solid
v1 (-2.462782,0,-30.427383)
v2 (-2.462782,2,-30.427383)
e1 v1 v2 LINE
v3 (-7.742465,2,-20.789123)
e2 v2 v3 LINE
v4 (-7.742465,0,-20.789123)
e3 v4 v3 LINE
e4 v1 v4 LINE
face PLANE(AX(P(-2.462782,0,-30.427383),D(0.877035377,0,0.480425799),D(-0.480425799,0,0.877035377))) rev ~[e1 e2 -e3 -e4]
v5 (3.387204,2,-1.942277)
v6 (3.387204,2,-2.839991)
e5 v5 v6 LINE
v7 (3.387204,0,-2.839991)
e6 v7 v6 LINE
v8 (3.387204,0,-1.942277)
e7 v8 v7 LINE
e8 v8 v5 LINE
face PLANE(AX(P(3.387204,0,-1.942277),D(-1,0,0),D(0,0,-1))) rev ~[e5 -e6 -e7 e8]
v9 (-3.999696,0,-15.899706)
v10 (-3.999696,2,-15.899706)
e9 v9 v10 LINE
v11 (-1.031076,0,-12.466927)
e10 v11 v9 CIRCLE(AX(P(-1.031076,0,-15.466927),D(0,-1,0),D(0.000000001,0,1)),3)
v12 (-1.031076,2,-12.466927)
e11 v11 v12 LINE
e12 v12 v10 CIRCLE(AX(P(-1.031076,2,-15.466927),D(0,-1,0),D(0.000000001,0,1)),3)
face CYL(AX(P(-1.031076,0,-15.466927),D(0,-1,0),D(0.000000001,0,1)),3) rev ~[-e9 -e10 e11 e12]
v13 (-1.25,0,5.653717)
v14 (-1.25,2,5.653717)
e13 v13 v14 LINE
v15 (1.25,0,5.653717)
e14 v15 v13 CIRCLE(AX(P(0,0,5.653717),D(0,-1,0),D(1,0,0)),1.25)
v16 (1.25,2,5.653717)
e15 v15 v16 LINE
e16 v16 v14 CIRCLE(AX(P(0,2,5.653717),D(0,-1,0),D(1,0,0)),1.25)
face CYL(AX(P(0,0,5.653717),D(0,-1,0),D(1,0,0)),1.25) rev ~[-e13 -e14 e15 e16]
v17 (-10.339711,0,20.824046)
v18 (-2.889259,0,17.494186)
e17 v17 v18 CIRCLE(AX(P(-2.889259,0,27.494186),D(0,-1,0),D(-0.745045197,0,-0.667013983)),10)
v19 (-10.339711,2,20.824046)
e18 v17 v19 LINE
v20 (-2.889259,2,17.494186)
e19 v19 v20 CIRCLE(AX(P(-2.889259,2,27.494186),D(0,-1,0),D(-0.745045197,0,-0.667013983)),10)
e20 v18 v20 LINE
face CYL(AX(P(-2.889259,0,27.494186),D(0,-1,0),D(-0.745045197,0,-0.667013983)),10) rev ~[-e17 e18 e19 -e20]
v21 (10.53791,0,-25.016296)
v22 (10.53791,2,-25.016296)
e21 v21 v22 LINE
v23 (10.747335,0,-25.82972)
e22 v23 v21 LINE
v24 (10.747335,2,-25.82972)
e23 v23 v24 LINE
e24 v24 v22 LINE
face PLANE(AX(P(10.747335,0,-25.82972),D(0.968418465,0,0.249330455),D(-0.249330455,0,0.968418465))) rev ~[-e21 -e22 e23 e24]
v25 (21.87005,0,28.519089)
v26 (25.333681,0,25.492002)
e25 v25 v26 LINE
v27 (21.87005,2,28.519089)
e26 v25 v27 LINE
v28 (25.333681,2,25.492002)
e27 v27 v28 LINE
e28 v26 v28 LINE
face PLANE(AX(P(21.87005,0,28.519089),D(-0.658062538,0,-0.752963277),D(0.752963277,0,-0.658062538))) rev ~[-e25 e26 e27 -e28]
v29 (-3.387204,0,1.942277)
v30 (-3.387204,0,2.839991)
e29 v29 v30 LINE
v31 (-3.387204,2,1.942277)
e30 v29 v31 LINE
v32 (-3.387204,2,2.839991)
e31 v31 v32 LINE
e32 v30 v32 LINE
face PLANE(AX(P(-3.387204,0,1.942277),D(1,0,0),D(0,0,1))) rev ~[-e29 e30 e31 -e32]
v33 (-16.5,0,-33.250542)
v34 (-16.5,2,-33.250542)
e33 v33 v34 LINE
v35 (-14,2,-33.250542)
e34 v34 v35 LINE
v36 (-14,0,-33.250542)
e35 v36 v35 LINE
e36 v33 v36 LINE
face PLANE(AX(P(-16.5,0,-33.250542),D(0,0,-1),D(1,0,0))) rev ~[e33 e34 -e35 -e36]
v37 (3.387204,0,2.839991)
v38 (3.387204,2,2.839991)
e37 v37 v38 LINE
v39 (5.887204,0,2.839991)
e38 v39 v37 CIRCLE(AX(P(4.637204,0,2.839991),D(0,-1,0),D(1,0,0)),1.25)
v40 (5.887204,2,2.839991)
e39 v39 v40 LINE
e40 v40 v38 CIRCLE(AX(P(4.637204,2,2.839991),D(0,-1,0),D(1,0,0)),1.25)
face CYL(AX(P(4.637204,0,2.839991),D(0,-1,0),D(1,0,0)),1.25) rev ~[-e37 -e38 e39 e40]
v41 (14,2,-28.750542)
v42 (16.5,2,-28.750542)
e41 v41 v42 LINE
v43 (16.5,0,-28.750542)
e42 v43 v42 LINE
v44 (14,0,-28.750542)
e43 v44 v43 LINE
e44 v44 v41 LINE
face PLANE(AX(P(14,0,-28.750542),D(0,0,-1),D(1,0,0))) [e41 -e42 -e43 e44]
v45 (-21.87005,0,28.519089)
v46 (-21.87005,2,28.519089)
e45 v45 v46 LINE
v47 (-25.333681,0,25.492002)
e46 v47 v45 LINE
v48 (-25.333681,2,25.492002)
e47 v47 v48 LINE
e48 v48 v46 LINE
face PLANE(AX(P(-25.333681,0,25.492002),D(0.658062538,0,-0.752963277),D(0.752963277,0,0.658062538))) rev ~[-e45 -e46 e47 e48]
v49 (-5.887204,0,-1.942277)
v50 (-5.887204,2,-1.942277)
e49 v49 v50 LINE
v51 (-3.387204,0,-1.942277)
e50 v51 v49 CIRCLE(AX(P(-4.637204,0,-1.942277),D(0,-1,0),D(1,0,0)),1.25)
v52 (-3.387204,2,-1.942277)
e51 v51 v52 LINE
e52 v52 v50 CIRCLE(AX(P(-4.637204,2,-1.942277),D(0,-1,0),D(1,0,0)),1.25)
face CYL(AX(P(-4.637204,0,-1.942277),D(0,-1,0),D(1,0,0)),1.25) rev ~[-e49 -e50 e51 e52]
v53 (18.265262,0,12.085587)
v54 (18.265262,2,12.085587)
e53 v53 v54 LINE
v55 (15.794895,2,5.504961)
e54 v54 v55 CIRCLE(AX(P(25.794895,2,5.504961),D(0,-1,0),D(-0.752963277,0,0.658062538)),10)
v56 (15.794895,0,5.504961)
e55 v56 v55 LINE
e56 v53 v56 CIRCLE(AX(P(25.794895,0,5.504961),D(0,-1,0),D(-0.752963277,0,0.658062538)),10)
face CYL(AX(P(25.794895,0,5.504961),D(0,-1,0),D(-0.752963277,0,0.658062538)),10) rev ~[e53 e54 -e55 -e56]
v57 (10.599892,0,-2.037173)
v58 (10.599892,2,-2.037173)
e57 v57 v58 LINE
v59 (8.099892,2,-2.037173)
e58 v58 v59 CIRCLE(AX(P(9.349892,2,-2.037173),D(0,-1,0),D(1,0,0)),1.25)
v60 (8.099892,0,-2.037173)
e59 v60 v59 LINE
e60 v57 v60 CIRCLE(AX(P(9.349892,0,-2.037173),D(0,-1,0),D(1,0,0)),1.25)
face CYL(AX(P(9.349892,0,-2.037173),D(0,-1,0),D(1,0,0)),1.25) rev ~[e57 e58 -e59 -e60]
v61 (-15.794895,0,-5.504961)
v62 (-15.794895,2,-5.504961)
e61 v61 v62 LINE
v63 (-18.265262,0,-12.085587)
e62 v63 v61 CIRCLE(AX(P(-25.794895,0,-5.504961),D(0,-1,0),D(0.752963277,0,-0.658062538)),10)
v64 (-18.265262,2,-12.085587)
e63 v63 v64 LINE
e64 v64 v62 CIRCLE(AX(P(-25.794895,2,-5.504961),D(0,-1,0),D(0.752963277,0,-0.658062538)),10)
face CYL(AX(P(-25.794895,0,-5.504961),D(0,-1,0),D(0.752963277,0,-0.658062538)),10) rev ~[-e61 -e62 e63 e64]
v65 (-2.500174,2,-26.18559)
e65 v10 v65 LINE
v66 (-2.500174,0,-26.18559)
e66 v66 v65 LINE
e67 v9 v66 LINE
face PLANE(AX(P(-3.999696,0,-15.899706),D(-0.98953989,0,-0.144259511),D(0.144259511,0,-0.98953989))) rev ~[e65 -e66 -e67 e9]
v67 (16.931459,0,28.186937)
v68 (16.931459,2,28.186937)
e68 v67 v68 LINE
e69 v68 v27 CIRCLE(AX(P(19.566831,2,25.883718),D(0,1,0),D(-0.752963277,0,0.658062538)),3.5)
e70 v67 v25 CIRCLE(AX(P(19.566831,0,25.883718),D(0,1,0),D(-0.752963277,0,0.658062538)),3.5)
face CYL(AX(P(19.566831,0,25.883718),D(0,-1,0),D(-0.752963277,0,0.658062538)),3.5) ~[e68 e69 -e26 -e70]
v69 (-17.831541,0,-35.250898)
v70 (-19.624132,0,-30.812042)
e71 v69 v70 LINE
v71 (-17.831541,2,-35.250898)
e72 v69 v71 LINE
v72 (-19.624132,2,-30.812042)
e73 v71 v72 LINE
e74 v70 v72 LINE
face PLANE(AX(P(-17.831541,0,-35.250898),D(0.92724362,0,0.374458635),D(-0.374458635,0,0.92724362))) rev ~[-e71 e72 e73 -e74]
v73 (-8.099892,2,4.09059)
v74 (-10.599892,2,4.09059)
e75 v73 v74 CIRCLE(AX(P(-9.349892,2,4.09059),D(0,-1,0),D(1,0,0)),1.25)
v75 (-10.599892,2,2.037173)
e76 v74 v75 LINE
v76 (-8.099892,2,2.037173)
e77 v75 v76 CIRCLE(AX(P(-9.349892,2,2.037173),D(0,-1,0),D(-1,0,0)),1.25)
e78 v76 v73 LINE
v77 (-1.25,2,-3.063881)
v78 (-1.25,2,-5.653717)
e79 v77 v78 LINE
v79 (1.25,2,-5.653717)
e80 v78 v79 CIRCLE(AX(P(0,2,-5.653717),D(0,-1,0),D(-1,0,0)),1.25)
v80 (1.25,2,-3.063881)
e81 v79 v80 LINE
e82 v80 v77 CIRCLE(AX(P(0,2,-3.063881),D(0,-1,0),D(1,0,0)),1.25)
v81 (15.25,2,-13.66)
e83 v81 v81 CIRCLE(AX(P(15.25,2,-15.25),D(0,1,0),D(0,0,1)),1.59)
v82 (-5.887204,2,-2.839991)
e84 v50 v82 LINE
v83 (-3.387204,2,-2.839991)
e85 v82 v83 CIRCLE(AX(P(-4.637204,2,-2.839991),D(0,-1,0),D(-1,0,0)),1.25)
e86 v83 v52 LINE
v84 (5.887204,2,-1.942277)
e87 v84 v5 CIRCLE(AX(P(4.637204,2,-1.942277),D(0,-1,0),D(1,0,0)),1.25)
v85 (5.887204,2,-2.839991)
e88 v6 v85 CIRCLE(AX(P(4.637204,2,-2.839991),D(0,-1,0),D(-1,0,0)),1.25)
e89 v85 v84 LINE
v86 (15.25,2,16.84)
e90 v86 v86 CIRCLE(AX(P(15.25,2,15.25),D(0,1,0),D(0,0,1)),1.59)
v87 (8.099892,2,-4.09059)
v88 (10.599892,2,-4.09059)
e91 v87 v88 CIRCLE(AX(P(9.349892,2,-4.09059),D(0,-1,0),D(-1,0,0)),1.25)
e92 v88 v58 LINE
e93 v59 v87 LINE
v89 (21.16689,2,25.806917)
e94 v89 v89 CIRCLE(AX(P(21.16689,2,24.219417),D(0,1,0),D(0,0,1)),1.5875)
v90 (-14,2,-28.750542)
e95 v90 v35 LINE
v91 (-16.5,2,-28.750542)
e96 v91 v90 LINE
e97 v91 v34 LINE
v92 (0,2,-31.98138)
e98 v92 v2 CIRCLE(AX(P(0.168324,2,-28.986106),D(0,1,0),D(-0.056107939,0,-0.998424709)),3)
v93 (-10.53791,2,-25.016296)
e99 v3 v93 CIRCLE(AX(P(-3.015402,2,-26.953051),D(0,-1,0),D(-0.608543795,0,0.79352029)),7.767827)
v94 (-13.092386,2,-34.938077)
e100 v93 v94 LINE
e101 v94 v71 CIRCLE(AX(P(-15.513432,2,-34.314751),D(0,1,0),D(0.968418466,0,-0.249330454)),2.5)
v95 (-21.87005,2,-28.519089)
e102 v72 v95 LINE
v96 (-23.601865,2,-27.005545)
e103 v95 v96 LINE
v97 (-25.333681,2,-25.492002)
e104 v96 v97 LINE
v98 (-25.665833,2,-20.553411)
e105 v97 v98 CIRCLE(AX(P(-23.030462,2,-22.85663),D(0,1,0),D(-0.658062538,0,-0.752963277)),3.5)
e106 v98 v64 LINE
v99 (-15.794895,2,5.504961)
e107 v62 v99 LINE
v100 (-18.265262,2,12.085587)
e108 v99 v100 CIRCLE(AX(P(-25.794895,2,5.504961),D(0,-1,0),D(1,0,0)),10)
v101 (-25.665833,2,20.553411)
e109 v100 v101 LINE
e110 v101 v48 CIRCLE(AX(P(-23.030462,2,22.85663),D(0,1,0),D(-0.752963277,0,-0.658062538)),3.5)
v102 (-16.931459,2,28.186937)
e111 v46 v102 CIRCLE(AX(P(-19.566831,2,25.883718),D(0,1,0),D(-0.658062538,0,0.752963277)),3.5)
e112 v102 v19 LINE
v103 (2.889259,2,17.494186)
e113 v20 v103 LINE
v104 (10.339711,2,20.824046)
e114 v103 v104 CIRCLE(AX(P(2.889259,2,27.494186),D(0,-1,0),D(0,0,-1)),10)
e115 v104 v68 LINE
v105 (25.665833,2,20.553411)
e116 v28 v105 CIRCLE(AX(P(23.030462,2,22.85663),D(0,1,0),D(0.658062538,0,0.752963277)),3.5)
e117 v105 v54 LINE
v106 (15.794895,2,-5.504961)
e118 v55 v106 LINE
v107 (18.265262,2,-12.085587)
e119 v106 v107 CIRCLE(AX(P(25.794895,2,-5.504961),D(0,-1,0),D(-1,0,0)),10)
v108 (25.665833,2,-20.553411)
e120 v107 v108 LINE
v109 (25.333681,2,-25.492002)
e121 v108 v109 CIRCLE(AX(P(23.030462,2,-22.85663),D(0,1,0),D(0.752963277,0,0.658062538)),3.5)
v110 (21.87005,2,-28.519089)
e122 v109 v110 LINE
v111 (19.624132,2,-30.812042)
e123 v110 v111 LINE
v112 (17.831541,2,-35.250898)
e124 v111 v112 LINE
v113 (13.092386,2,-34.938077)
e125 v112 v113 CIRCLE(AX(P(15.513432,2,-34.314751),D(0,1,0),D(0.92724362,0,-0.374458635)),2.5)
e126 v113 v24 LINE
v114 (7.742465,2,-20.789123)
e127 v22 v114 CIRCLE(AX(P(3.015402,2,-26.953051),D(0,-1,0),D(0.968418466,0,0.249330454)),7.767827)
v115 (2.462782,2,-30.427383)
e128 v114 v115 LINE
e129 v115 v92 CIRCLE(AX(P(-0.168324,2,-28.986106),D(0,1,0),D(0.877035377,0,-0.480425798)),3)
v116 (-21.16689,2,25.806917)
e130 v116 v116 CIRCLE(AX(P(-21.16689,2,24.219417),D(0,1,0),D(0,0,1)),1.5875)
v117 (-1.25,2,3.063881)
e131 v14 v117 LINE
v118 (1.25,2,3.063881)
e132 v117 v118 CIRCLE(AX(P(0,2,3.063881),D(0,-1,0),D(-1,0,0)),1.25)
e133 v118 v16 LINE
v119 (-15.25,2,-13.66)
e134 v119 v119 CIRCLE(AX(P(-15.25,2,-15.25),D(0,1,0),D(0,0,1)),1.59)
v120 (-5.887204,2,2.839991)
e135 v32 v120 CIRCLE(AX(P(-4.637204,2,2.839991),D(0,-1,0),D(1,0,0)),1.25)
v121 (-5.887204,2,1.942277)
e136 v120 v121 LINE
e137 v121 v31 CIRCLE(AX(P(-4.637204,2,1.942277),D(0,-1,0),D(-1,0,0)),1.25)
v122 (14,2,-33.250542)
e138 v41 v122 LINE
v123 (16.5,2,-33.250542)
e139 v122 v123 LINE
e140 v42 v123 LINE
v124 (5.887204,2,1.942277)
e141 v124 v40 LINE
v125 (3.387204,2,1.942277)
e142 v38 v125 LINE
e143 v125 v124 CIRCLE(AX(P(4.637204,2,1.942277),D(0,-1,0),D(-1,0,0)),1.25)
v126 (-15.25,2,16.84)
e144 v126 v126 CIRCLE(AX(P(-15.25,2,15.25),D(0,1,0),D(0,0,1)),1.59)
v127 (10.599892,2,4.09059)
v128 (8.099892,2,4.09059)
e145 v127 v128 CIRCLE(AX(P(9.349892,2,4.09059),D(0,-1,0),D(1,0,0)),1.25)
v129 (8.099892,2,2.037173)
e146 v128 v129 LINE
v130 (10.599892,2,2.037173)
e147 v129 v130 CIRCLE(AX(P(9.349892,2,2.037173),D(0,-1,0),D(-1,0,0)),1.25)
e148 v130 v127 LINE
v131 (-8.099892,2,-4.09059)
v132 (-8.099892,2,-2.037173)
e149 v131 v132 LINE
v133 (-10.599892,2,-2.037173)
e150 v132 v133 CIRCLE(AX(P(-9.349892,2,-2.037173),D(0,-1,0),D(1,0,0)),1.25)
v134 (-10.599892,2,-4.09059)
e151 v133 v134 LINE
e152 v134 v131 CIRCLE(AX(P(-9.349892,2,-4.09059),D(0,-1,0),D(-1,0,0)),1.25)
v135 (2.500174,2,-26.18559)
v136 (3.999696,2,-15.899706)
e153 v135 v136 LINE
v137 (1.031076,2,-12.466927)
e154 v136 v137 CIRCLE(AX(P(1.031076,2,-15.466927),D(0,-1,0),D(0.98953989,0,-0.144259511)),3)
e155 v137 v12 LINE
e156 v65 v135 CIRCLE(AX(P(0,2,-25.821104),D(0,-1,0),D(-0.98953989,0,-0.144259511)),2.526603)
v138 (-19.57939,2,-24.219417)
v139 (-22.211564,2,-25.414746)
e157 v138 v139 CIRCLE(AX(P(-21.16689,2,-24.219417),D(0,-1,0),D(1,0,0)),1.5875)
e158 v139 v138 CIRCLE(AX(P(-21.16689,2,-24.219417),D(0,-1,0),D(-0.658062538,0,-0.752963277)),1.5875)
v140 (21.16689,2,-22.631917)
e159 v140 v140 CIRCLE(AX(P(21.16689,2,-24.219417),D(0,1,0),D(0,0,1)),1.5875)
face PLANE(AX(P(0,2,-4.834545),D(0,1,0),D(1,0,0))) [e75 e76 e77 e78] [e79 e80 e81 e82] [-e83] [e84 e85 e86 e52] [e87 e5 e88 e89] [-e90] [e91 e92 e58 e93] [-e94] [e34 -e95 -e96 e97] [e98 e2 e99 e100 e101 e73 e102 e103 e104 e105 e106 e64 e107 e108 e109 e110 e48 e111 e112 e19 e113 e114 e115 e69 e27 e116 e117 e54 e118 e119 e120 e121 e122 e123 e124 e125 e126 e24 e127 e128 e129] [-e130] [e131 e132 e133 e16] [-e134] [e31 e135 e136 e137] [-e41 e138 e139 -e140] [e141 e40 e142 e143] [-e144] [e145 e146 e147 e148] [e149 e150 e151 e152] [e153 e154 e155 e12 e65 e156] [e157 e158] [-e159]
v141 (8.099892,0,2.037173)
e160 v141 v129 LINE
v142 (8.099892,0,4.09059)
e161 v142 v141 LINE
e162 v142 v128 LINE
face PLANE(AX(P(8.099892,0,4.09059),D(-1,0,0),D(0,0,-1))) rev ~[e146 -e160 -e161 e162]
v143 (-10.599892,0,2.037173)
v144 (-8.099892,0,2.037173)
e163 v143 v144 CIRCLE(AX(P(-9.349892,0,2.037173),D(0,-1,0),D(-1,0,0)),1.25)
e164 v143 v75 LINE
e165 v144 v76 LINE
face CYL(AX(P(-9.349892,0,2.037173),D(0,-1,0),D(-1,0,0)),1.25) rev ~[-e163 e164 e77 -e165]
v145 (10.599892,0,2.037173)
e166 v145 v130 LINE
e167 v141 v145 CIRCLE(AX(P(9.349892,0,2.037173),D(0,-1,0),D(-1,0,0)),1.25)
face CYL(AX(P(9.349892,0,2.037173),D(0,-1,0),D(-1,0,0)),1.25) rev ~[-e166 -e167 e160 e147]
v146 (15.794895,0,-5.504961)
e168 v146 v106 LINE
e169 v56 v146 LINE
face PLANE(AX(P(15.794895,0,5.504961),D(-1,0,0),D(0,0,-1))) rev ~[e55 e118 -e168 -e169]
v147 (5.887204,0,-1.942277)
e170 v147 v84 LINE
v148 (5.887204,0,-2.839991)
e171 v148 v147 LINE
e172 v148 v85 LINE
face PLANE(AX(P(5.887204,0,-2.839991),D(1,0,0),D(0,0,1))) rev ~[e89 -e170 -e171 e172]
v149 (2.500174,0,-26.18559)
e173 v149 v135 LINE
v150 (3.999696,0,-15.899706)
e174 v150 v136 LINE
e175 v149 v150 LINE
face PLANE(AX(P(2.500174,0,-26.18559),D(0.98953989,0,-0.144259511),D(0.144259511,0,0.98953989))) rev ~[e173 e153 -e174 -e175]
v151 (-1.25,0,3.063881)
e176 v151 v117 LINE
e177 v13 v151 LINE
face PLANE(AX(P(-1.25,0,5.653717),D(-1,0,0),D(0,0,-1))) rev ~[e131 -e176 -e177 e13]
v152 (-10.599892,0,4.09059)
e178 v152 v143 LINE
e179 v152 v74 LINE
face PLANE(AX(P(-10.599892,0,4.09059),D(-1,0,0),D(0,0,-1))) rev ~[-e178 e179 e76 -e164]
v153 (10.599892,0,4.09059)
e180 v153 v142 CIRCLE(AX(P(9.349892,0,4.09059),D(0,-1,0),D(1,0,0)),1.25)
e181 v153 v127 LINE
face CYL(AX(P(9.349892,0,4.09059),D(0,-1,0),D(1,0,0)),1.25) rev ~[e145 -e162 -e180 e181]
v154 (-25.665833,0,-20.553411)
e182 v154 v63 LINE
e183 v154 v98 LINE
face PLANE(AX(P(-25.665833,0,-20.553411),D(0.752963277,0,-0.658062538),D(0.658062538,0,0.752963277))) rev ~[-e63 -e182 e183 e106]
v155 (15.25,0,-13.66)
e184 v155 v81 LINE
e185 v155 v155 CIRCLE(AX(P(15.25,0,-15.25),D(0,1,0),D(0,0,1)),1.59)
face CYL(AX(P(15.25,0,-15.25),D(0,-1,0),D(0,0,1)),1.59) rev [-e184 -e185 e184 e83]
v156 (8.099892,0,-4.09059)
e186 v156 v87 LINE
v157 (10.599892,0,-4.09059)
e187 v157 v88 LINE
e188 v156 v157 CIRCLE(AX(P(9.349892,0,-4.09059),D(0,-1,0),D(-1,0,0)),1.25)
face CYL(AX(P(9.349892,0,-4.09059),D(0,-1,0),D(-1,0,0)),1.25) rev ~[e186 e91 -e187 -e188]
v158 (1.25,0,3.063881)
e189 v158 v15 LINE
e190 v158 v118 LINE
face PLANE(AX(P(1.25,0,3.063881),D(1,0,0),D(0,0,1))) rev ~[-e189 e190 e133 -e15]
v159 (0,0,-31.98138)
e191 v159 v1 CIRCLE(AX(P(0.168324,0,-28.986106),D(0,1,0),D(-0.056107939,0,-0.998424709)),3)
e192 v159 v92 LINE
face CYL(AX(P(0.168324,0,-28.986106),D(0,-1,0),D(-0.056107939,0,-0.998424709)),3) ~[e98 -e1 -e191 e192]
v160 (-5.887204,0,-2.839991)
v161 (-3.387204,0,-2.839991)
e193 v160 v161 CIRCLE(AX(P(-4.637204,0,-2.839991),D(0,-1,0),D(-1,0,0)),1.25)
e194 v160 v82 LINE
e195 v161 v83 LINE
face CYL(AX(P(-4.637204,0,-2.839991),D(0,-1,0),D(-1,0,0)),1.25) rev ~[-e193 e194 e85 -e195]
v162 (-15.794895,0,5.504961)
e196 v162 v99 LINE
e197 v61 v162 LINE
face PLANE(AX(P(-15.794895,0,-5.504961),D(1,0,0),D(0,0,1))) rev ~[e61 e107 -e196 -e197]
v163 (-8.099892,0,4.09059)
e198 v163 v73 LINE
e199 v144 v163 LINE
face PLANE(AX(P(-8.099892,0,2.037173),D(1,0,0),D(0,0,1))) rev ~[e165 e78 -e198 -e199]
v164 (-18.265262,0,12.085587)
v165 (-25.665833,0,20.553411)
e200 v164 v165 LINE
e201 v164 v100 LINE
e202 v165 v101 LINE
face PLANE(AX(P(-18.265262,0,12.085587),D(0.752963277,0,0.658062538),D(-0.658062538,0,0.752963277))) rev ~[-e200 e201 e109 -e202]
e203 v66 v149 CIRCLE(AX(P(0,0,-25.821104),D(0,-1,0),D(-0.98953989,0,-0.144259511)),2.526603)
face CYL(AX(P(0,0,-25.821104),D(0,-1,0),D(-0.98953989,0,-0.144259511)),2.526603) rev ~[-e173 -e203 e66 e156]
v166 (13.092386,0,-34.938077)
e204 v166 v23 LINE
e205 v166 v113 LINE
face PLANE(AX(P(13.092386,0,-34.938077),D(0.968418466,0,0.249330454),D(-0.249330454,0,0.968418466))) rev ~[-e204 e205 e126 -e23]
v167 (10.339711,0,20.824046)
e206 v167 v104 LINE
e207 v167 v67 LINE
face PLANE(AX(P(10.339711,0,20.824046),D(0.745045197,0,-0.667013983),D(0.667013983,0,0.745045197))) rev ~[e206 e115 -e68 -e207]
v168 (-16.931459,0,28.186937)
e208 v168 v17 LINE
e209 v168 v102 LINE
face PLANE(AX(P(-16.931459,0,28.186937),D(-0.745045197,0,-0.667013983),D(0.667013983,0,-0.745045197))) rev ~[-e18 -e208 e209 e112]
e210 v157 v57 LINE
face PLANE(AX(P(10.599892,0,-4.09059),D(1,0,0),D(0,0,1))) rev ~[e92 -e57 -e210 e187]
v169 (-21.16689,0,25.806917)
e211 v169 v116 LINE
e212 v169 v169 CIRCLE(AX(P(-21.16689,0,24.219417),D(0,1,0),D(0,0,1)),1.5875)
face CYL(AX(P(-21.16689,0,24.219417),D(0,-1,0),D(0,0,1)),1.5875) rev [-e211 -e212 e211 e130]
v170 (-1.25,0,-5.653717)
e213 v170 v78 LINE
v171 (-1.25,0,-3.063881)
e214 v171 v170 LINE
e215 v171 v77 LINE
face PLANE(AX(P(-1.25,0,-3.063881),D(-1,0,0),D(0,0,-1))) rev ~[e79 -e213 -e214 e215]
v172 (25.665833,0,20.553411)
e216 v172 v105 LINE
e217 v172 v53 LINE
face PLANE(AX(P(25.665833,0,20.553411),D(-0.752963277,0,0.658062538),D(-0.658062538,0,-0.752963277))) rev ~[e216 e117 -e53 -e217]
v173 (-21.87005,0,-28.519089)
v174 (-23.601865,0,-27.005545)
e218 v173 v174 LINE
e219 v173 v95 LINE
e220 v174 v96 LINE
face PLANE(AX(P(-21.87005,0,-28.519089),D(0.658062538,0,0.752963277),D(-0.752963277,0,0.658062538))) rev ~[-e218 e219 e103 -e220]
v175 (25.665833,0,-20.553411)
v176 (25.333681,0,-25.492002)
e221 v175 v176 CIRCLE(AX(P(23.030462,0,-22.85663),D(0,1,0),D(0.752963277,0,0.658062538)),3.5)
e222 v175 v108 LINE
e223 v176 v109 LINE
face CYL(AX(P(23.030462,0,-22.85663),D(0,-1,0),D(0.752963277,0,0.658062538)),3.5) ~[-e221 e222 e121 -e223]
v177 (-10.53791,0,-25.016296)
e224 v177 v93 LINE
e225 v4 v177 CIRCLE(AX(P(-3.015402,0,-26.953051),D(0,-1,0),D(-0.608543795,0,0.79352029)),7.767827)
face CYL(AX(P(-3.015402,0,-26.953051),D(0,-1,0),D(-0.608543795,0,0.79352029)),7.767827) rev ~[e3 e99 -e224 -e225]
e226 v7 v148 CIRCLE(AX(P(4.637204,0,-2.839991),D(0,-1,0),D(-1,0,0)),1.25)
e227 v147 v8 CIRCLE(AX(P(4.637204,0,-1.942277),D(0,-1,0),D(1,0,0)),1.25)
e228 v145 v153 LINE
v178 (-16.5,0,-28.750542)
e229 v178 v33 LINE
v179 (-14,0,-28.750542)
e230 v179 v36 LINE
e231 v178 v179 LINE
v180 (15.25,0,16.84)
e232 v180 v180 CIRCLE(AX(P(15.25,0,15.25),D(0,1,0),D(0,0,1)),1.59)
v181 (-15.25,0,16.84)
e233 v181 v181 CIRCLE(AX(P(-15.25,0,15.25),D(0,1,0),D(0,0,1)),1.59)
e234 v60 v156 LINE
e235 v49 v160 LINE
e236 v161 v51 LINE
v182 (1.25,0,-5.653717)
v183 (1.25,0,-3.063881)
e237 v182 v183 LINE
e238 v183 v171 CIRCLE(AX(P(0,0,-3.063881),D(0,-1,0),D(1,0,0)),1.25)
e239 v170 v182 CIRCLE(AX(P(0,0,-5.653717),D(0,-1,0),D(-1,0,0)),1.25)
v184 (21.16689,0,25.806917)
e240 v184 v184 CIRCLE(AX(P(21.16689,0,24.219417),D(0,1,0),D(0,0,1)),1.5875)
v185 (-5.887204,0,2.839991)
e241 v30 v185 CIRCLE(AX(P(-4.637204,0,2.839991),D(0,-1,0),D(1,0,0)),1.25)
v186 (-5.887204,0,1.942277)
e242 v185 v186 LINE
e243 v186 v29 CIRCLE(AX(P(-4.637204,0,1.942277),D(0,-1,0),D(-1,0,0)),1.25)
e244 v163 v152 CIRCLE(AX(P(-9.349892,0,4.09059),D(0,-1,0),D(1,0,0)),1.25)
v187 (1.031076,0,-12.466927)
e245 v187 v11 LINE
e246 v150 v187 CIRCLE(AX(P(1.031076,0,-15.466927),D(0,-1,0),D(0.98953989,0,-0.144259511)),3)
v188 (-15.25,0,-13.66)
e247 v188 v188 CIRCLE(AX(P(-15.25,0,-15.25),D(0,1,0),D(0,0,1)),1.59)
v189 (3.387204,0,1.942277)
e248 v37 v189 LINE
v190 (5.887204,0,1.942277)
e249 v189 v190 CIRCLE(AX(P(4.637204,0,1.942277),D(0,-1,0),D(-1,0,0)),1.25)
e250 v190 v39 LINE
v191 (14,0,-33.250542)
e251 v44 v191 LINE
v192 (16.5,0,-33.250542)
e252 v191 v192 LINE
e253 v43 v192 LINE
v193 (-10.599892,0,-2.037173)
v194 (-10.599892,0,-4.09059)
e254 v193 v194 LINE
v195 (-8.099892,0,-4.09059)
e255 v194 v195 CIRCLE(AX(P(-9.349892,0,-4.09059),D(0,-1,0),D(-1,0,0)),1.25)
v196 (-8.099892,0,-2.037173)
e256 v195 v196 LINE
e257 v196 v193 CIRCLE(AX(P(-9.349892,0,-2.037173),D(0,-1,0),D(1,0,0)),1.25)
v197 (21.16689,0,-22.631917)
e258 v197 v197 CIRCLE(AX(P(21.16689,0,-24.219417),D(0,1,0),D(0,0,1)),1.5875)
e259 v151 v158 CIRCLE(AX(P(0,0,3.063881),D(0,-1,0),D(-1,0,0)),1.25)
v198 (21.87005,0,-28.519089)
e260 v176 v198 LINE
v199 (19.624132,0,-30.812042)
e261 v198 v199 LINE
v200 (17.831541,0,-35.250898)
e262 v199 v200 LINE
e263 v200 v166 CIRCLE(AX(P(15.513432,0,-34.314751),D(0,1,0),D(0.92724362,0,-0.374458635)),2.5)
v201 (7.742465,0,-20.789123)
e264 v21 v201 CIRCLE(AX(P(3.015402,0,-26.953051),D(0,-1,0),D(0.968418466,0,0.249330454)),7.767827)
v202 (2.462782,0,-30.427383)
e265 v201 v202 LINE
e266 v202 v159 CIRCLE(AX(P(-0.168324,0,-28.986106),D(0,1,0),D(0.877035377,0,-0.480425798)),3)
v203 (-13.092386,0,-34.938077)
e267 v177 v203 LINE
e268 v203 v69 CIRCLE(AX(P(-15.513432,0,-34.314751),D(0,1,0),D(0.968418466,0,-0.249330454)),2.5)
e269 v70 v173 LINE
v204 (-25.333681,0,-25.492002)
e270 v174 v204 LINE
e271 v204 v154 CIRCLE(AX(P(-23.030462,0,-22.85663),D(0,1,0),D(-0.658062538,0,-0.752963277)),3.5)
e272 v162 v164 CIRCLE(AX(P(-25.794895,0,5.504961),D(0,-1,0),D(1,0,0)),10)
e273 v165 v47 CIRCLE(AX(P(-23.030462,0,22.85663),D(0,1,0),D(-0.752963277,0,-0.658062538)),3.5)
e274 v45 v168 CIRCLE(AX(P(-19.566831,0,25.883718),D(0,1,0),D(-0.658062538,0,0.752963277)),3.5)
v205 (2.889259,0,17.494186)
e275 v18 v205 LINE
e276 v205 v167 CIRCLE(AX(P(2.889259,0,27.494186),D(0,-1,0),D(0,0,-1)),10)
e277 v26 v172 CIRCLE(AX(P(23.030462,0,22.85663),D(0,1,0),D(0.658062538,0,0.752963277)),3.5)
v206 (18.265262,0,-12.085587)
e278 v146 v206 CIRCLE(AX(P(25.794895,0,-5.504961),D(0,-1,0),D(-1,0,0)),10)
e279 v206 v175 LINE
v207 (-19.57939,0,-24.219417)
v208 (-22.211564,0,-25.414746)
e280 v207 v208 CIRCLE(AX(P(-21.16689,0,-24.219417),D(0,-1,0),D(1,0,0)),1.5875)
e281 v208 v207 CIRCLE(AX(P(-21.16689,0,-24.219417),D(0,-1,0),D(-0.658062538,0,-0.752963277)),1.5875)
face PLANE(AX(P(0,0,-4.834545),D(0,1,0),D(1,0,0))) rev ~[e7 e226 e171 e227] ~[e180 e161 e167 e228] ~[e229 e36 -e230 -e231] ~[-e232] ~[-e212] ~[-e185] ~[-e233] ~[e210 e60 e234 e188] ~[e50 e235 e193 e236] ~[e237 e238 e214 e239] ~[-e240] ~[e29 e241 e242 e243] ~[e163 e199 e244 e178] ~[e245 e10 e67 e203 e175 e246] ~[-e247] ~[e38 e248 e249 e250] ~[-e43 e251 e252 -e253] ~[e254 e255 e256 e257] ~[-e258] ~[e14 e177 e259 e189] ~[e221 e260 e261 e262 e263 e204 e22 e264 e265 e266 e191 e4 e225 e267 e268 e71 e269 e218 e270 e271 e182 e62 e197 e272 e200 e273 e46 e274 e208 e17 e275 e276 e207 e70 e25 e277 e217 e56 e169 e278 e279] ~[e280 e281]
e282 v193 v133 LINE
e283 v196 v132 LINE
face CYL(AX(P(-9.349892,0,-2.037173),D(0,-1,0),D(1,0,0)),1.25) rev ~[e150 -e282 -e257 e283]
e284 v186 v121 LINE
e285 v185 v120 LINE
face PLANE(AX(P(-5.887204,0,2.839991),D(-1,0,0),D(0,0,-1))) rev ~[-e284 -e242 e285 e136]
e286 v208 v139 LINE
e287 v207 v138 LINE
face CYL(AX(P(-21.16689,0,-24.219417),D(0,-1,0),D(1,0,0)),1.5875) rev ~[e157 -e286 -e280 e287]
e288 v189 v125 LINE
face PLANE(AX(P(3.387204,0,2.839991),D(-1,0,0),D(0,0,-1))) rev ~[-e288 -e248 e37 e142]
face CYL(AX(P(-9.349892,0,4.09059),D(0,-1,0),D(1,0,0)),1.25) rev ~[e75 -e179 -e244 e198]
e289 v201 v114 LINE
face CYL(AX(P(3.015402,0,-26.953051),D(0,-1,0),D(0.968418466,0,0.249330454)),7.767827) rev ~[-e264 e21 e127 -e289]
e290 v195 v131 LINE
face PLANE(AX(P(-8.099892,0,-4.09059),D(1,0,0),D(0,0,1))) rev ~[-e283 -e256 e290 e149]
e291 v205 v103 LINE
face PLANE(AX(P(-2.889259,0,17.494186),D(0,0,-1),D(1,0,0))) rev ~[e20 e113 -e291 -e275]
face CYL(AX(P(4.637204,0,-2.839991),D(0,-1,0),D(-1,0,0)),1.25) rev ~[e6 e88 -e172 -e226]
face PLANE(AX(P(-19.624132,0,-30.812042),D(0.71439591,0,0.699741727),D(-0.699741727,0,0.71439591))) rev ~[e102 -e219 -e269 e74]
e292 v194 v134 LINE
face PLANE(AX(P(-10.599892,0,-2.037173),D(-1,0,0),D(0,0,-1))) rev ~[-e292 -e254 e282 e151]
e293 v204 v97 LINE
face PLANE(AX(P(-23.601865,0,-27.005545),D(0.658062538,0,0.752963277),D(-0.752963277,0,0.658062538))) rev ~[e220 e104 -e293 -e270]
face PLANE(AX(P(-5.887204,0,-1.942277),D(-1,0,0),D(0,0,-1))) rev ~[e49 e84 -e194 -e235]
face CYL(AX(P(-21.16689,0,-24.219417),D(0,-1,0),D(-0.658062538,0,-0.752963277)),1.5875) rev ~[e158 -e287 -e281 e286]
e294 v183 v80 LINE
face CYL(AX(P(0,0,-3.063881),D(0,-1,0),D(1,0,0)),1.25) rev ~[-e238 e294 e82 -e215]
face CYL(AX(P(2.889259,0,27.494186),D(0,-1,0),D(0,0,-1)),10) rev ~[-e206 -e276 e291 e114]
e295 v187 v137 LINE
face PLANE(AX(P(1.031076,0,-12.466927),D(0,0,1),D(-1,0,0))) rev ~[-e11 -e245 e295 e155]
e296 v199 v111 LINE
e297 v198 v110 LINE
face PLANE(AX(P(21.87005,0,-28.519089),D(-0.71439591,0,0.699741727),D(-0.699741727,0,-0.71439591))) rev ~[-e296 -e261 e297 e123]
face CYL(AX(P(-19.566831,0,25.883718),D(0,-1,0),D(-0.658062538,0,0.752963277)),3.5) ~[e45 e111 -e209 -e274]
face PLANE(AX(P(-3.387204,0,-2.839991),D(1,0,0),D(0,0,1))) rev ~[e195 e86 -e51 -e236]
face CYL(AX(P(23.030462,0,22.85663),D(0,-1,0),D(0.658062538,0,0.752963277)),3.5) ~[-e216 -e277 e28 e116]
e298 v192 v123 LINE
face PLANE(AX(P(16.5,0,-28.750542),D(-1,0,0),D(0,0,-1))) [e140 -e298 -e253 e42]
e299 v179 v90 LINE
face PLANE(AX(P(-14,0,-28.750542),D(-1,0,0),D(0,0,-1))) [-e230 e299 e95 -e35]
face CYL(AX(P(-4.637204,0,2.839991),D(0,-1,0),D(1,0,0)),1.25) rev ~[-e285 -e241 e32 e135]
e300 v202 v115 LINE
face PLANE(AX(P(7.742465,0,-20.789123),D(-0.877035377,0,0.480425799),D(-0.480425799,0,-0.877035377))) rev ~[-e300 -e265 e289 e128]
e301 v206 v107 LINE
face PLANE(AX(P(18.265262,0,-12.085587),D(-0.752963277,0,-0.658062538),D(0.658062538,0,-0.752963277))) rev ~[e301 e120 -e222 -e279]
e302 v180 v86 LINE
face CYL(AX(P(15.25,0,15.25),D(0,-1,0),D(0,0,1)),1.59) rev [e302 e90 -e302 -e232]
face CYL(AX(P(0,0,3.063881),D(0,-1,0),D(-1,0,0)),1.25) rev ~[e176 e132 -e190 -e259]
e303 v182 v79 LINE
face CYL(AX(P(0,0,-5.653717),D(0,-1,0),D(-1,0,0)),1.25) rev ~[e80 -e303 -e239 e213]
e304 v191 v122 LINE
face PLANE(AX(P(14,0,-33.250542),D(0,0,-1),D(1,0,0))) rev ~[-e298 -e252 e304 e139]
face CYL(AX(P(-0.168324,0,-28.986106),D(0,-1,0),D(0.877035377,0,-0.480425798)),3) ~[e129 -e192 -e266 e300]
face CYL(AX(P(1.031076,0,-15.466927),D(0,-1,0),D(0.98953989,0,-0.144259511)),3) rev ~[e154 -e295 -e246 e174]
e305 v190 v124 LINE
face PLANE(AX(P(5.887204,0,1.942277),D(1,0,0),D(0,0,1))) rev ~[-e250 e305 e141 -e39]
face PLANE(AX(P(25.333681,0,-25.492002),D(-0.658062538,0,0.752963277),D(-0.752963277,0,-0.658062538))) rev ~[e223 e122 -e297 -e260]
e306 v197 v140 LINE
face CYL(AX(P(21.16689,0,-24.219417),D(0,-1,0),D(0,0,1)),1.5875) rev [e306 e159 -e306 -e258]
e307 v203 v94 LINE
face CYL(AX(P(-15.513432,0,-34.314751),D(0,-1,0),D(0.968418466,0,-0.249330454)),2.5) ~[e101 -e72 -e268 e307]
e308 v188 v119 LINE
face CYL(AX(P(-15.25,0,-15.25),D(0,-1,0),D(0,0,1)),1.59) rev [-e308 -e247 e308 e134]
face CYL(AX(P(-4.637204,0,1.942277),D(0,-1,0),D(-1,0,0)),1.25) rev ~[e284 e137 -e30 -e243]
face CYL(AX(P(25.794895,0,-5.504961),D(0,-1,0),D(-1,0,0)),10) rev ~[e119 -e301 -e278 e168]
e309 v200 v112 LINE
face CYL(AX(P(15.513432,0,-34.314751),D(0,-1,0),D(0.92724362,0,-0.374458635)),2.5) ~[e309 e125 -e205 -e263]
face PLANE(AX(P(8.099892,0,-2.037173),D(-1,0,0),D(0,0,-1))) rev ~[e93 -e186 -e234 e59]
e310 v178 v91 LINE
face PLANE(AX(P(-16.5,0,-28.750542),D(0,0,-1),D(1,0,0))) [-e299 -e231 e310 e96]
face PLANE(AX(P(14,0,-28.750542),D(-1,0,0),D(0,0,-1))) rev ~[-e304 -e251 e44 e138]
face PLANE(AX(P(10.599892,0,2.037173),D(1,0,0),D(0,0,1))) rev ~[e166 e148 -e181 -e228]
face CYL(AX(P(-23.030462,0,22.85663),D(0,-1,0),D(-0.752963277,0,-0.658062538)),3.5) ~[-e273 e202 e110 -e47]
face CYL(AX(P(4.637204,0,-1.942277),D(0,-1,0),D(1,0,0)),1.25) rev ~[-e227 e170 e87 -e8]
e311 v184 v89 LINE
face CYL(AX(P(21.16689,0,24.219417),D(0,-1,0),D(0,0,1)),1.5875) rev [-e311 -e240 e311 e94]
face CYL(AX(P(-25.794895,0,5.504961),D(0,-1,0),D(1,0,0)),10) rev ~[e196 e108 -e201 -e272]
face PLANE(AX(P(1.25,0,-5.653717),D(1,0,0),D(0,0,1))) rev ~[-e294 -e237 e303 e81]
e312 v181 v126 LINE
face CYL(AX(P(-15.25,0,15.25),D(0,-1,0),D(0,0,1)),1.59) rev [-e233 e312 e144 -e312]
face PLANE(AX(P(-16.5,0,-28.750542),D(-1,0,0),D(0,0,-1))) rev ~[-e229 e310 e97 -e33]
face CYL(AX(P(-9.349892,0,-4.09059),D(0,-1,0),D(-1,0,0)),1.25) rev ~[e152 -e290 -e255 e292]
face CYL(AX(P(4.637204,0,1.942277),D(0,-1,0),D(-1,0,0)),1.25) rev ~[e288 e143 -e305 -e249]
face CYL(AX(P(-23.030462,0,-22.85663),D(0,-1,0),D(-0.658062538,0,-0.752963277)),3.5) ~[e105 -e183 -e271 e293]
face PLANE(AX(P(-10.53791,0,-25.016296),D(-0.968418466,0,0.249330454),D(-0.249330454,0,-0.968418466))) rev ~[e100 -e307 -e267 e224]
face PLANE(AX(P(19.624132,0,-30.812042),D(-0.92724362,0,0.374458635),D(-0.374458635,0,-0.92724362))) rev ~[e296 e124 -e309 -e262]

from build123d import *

# Parameters (mm, degrees)
CROQUIS2_R              = 1.5875
CROQUIS2_R_2            = 1.59
CROQUIS2_W              = 2.5
CROQUIS2_H              = 4.5
SALIENTE_EXTRUIR1_DEPTH = 2


with BuildPart() as part:
    # Croquis2 → Saliente-Extruir1 (new body)
    with BuildSketch(Plane(origin=(0, 0, 0), x_dir=(1, 0, 0), z_dir=(0, 1, 0))):
        with BuildLine():
            ThreePointArc((-15.794895255, -5.504961381), (-16.432835447, -9.019479294), (-18.265262487, -12.08558676))
            Line((-18.265262487, -12.08558676), (-25.665833323, -20.55341124))
            ThreePointArc((-25.665833323, -20.55341124), (-26.522572581, -23.091497469), (-25.333680736, -25.492001591))
            Line((-25.333680736, -25.492001591), (-21.870049663, -28.519089265))
            ThreePointArc((-21.870049663, -28.519089265), (-19.331963434, -29.375828523), (-16.931459311, -28.186936679))
            Line((-16.931459311, -28.186936679), (-10.339710555, -20.824046432))
            ThreePointArc((-10.339710555, -20.824046432), (-6.969614061, -18.364525857), (-2.889258582, -17.494186265))
            Line((-2.889258582, -17.494186265), (2.889258582, -17.494186265))
            ThreePointArc((2.889258582, -17.494186265), (6.969614061, -18.364525857), (10.339710555, -20.824046432))
            Line((10.339710555, -20.824046432), (16.931459311, -28.186936679))
            ThreePointArc((16.931459311, -28.186936679), (19.331963434, -29.375828523), (21.870049663, -28.519089265))
            Line((21.870049663, -28.519089265), (25.333680736, -25.492001591))
            ThreePointArc((25.333680736, -25.492001591), (26.522572581, -23.091497469), (25.665833323, -20.55341124))
            Line((25.665833323, -20.55341124), (18.265262487, -12.08558676))
            ThreePointArc((18.265262487, -12.08558676), (16.432835447, -9.019479294), (15.794895255, -5.504961381))
            Line((15.794895255, -5.504961381), (15.794895255, 5.504961381))
            ThreePointArc((15.794895255, 5.504961381), (16.432835447, 9.019479294), (18.265262487, 12.08558676))
            Line((18.265262487, 12.08558676), (25.665833323, 20.55341124))
            ThreePointArc((25.665833323, 20.55341124), (26.522572581, 23.091497469), (25.333680736, 25.492001591))
            Line((25.333680736, 25.492001591), (21.870049663, 28.519089265))
            Line((21.870049663, 28.519089265), (19.624131665, 30.812041893))
            Line((19.624131665, 30.812041893), (17.831541391, 35.250897727))
            ThreePointArc((17.831541391, 35.250897727), (15.348771565, 36.809322612), (13.092386176, 34.938077274))
            Line((13.092386176, 34.938077274), (10.747335089, 25.829720308))
            Line((10.747335089, 25.829720308), (10.537909559, 25.016295609))
            ThreePointArc((10.537909559, 25.016295609), (9.494618305, 22.668322934), (7.742465325, 20.789123037))
            Line((7.742465325, 20.789123037), (2.462782312, 30.427383086))
            ThreePointArc((2.462782312, 30.427383086), (1.432591067, 31.523244144), (0, 31.981379817))
            ThreePointArc((0, 31.981379817), (-1.432591067, 31.523244144), (-2.462782312, 30.427383086))
            Line((-2.462782312, 30.427383086), (-7.742465325, 20.789123037))
            ThreePointArc((-7.742465325, 20.789123037), (-9.494618305, 22.668322934), (-10.537909559, 25.016295609))
            Line((-10.537909559, 25.016295609), (-13.092386176, 34.938077274))
            ThreePointArc((-13.092386176, 34.938077274), (-15.348771565, 36.809322612), (-17.831541391, 35.250897727))
            Line((-17.831541391, 35.250897727), (-19.624131665, 30.812041893))
            Line((-19.624131665, 30.812041893), (-21.870049663, 28.519089265))
            Line((-21.870049663, 28.519089265), (-23.601865199, 27.005545428))
            Line((-23.601865199, 27.005545428), (-25.333680736, 25.492001591))
            ThreePointArc((-25.333680736, 25.492001591), (-26.522572581, 23.091497469), (-25.665833323, 20.55341124))
            Line((-25.665833323, 20.55341124), (-18.265262487, 12.08558676))
            ThreePointArc((-18.265262487, 12.08558676), (-16.432835447, 9.019479294), (-15.794895255, 5.504961381))
            Line((-15.794895255, 5.504961381), (-15.794895255, -5.504961381))
        make_face()
        with Locations(Location((-21.166889821, -24.21941655, 0), (0, 0, 270))):
            Circle(CROQUIS2_R, mode=Mode.SUBTRACT)
        with Locations(Location((-15.25, -15.25, 0), (0, 0, 270))):
            Circle(CROQUIS2_R_2, mode=Mode.SUBTRACT)
        with BuildLine():
            Line((-8.099892262, -2.037172726), (-8.099892262, -4.090589628))
            ThreePointArc((-8.099892262, -4.090589628), (-9.349892262, -5.340589628), (-10.599892262, -4.090589628))
            Line((-10.599892262, -4.090589628), (-10.599892262, -2.037172726))
            ThreePointArc((-10.599892262, -2.037172726), (-9.349892262, -0.787172726), (-8.099892262, -2.037172726))
        make_face(mode=Mode.SUBTRACT)
        with BuildLine():
            ThreePointArc((-10.599892262, 4.090589628), (-9.349892262, 5.340589628), (-8.099892262, 4.090589628))
            Line((-8.099892262, 4.090589628), (-8.099892262, 2.037172726))
            ThreePointArc((-8.099892262, 2.037172726), (-9.349892262, 0.787172726), (-10.599892262, 2.037172726))
            Line((-10.599892262, 2.037172726), (-10.599892262, 4.090589628))
        make_face(mode=Mode.SUBTRACT)
        with BuildLine():
            Line((-3.387203965, -1.942277199), (-3.387203965, -2.839990658))
            ThreePointArc((-3.387203965, -2.839990658), (-4.637203965, -4.089990658), (-5.887203965, -2.839990658))
            Line((-5.887203965, -2.839990658), (-5.887203965, -1.942277199))
            ThreePointArc((-5.887203965, -1.942277199), (-4.637203965, -0.692277199), (-3.387203965, -1.942277199))
        make_face(mode=Mode.SUBTRACT)
        with BuildLine():
            ThreePointArc((-5.887203965, 2.839990658), (-4.637203965, 4.089990658), (-3.387203965, 2.839990658))
            Line((-3.387203965, 2.839990658), (-3.387203965, 1.942277199))
            ThreePointArc((-3.387203965, 1.942277199), (-4.637203965, 0.692277199), (-5.887203965, 1.942277199))
            Line((-5.887203965, 1.942277199), (-5.887203965, 2.839990658))
        make_face(mode=Mode.SUBTRACT)
        with Locations(Location((21.166889821, -24.21941655, 0), (0, 0, 270))):
            Circle(CROQUIS2_R, mode=Mode.SUBTRACT)
        with Locations(Location((15.25, -15.25, 0), (0, 0, 270))):
            Circle(CROQUIS2_R_2, mode=Mode.SUBTRACT)
        with BuildLine():
            ThreePointArc((1.25, -5.653716791), (0, -6.903716791), (-1.25, -5.653716791))
            Line((-1.25, -5.653716791), (-1.25, -3.063881177))
            ThreePointArc((-1.25, -3.063881177), (0, -1.813881177), (1.25, -3.063881177))
            Line((1.25, -3.063881177), (1.25, -5.653716791))
        make_face(mode=Mode.SUBTRACT)
        with BuildLine():
            ThreePointArc((5.887203965, -2.839990658), (4.637203965, -4.089990658), (3.387203965, -2.839990658))
            Line((3.387203965, -2.839990658), (3.387203965, -1.942277199))
            ThreePointArc((3.387203965, -1.942277199), (4.637203965, -0.692277199), (5.887203965, -1.942277199))
            Line((5.887203965, -1.942277199), (5.887203965, -2.839990658))
        make_face(mode=Mode.SUBTRACT)
        with BuildLine():
            Line((3.387203965, 1.942277199), (3.387203965, 2.839990658))
            ThreePointArc((3.387203965, 2.839990658), (4.637203965, 4.089990658), (5.887203965, 2.839990658))
            Line((5.887203965, 2.839990658), (5.887203965, 1.942277199))
            ThreePointArc((5.887203965, 1.942277199), (4.637203965, 0.692277199), (3.387203965, 1.942277199))
        make_face(mode=Mode.SUBTRACT)
        with BuildLine():
            ThreePointArc((10.599892262, -4.090589628), (9.349892262, -5.340589628), (8.099892262, -4.090589628))
            Line((8.099892262, -4.090589628), (8.099892262, -2.037172726))
            ThreePointArc((8.099892262, -2.037172726), (9.349892262, -0.787172726), (10.599892262, -2.037172726))
            Line((10.599892262, -2.037172726), (10.599892262, -4.090589628))
        make_face(mode=Mode.SUBTRACT)
        with BuildLine():
            Line((8.099892262, 2.037172726), (8.099892262, 4.090589628))
            ThreePointArc((8.099892262, 4.090589628), (9.349892262, 5.340589628), (10.599892262, 4.090589628))
            Line((10.599892262, 4.090589628), (10.599892262, 2.037172726))
            ThreePointArc((10.599892262, 2.037172726), (9.349892262, 0.787172726), (8.099892262, 2.037172726))
        make_face(mode=Mode.SUBTRACT)
        with Locations(Location((-15.25, 15.25, 0), (0, 0, 270))):
            Circle(CROQUIS2_R_2, mode=Mode.SUBTRACT)
        with BuildLine():
            ThreePointArc((-19.579389821, 24.21941655), (-21.823295119, 22.773979477), (-22.211564099, 25.414745752))
            ThreePointArc((-22.211564099, 25.414745752), (-20.510484522, 25.664853624), (-19.579389821, 24.21941655))
        make_face(mode=Mode.SUBTRACT)
        with Locations((-15.25, 31.000541934)):
            Rectangle(CROQUIS2_W, CROQUIS2_H, mode=Mode.SUBTRACT)
        with BuildLine():
            Line((-1.25, 3.063881177), (-1.25, 5.653716791))
            ThreePointArc((-1.25, 5.653716791), (0, 6.903716791), (1.25, 5.653716791))
            Line((1.25, 5.653716791), (1.25, 3.063881177))
            ThreePointArc((1.25, 3.063881177), (0, 1.813881177), (-1.25, 3.063881177))
        make_face(mode=Mode.SUBTRACT)
        with Locations(Location((15.25, 15.25, 0), (0, 0, 270))):
            Circle(CROQUIS2_R_2, mode=Mode.SUBTRACT)
        with BuildLine():
            ThreePointArc((3.999695887, 15.899705615), (3.300253998, 13.504573342), (1.031076217, 12.466927083))
            Line((1.031076217, 12.466927083), (-1.031076217, 12.466927083))
            ThreePointArc((-1.031076217, 12.466927083), (-3.300253998, 13.504573342), (-3.999695887, 15.899705615))
            Line((-3.999695887, 15.899705615), (-2.500174028, 26.185590314))
            ThreePointArc((-2.500174028, 26.185590314), (0, 28.347706433), (2.500174028, 26.185590314))
            Line((2.500174028, 26.185590314), (3.999695887, 15.899705615))
        make_face(mode=Mode.SUBTRACT)
        with Locations(Location((21.166889821, 24.21941655, 0), (0, 0, 270))):
            Circle(CROQUIS2_R, mode=Mode.SUBTRACT)
        with Locations((15.25, 31.000541934)):
            Rectangle(CROQUIS2_W, CROQUIS2_H, mode=Mode.SUBTRACT)
    extrude(amount=SALIENTE_EXTRUIR1_DEPTH)


solid = part.part
